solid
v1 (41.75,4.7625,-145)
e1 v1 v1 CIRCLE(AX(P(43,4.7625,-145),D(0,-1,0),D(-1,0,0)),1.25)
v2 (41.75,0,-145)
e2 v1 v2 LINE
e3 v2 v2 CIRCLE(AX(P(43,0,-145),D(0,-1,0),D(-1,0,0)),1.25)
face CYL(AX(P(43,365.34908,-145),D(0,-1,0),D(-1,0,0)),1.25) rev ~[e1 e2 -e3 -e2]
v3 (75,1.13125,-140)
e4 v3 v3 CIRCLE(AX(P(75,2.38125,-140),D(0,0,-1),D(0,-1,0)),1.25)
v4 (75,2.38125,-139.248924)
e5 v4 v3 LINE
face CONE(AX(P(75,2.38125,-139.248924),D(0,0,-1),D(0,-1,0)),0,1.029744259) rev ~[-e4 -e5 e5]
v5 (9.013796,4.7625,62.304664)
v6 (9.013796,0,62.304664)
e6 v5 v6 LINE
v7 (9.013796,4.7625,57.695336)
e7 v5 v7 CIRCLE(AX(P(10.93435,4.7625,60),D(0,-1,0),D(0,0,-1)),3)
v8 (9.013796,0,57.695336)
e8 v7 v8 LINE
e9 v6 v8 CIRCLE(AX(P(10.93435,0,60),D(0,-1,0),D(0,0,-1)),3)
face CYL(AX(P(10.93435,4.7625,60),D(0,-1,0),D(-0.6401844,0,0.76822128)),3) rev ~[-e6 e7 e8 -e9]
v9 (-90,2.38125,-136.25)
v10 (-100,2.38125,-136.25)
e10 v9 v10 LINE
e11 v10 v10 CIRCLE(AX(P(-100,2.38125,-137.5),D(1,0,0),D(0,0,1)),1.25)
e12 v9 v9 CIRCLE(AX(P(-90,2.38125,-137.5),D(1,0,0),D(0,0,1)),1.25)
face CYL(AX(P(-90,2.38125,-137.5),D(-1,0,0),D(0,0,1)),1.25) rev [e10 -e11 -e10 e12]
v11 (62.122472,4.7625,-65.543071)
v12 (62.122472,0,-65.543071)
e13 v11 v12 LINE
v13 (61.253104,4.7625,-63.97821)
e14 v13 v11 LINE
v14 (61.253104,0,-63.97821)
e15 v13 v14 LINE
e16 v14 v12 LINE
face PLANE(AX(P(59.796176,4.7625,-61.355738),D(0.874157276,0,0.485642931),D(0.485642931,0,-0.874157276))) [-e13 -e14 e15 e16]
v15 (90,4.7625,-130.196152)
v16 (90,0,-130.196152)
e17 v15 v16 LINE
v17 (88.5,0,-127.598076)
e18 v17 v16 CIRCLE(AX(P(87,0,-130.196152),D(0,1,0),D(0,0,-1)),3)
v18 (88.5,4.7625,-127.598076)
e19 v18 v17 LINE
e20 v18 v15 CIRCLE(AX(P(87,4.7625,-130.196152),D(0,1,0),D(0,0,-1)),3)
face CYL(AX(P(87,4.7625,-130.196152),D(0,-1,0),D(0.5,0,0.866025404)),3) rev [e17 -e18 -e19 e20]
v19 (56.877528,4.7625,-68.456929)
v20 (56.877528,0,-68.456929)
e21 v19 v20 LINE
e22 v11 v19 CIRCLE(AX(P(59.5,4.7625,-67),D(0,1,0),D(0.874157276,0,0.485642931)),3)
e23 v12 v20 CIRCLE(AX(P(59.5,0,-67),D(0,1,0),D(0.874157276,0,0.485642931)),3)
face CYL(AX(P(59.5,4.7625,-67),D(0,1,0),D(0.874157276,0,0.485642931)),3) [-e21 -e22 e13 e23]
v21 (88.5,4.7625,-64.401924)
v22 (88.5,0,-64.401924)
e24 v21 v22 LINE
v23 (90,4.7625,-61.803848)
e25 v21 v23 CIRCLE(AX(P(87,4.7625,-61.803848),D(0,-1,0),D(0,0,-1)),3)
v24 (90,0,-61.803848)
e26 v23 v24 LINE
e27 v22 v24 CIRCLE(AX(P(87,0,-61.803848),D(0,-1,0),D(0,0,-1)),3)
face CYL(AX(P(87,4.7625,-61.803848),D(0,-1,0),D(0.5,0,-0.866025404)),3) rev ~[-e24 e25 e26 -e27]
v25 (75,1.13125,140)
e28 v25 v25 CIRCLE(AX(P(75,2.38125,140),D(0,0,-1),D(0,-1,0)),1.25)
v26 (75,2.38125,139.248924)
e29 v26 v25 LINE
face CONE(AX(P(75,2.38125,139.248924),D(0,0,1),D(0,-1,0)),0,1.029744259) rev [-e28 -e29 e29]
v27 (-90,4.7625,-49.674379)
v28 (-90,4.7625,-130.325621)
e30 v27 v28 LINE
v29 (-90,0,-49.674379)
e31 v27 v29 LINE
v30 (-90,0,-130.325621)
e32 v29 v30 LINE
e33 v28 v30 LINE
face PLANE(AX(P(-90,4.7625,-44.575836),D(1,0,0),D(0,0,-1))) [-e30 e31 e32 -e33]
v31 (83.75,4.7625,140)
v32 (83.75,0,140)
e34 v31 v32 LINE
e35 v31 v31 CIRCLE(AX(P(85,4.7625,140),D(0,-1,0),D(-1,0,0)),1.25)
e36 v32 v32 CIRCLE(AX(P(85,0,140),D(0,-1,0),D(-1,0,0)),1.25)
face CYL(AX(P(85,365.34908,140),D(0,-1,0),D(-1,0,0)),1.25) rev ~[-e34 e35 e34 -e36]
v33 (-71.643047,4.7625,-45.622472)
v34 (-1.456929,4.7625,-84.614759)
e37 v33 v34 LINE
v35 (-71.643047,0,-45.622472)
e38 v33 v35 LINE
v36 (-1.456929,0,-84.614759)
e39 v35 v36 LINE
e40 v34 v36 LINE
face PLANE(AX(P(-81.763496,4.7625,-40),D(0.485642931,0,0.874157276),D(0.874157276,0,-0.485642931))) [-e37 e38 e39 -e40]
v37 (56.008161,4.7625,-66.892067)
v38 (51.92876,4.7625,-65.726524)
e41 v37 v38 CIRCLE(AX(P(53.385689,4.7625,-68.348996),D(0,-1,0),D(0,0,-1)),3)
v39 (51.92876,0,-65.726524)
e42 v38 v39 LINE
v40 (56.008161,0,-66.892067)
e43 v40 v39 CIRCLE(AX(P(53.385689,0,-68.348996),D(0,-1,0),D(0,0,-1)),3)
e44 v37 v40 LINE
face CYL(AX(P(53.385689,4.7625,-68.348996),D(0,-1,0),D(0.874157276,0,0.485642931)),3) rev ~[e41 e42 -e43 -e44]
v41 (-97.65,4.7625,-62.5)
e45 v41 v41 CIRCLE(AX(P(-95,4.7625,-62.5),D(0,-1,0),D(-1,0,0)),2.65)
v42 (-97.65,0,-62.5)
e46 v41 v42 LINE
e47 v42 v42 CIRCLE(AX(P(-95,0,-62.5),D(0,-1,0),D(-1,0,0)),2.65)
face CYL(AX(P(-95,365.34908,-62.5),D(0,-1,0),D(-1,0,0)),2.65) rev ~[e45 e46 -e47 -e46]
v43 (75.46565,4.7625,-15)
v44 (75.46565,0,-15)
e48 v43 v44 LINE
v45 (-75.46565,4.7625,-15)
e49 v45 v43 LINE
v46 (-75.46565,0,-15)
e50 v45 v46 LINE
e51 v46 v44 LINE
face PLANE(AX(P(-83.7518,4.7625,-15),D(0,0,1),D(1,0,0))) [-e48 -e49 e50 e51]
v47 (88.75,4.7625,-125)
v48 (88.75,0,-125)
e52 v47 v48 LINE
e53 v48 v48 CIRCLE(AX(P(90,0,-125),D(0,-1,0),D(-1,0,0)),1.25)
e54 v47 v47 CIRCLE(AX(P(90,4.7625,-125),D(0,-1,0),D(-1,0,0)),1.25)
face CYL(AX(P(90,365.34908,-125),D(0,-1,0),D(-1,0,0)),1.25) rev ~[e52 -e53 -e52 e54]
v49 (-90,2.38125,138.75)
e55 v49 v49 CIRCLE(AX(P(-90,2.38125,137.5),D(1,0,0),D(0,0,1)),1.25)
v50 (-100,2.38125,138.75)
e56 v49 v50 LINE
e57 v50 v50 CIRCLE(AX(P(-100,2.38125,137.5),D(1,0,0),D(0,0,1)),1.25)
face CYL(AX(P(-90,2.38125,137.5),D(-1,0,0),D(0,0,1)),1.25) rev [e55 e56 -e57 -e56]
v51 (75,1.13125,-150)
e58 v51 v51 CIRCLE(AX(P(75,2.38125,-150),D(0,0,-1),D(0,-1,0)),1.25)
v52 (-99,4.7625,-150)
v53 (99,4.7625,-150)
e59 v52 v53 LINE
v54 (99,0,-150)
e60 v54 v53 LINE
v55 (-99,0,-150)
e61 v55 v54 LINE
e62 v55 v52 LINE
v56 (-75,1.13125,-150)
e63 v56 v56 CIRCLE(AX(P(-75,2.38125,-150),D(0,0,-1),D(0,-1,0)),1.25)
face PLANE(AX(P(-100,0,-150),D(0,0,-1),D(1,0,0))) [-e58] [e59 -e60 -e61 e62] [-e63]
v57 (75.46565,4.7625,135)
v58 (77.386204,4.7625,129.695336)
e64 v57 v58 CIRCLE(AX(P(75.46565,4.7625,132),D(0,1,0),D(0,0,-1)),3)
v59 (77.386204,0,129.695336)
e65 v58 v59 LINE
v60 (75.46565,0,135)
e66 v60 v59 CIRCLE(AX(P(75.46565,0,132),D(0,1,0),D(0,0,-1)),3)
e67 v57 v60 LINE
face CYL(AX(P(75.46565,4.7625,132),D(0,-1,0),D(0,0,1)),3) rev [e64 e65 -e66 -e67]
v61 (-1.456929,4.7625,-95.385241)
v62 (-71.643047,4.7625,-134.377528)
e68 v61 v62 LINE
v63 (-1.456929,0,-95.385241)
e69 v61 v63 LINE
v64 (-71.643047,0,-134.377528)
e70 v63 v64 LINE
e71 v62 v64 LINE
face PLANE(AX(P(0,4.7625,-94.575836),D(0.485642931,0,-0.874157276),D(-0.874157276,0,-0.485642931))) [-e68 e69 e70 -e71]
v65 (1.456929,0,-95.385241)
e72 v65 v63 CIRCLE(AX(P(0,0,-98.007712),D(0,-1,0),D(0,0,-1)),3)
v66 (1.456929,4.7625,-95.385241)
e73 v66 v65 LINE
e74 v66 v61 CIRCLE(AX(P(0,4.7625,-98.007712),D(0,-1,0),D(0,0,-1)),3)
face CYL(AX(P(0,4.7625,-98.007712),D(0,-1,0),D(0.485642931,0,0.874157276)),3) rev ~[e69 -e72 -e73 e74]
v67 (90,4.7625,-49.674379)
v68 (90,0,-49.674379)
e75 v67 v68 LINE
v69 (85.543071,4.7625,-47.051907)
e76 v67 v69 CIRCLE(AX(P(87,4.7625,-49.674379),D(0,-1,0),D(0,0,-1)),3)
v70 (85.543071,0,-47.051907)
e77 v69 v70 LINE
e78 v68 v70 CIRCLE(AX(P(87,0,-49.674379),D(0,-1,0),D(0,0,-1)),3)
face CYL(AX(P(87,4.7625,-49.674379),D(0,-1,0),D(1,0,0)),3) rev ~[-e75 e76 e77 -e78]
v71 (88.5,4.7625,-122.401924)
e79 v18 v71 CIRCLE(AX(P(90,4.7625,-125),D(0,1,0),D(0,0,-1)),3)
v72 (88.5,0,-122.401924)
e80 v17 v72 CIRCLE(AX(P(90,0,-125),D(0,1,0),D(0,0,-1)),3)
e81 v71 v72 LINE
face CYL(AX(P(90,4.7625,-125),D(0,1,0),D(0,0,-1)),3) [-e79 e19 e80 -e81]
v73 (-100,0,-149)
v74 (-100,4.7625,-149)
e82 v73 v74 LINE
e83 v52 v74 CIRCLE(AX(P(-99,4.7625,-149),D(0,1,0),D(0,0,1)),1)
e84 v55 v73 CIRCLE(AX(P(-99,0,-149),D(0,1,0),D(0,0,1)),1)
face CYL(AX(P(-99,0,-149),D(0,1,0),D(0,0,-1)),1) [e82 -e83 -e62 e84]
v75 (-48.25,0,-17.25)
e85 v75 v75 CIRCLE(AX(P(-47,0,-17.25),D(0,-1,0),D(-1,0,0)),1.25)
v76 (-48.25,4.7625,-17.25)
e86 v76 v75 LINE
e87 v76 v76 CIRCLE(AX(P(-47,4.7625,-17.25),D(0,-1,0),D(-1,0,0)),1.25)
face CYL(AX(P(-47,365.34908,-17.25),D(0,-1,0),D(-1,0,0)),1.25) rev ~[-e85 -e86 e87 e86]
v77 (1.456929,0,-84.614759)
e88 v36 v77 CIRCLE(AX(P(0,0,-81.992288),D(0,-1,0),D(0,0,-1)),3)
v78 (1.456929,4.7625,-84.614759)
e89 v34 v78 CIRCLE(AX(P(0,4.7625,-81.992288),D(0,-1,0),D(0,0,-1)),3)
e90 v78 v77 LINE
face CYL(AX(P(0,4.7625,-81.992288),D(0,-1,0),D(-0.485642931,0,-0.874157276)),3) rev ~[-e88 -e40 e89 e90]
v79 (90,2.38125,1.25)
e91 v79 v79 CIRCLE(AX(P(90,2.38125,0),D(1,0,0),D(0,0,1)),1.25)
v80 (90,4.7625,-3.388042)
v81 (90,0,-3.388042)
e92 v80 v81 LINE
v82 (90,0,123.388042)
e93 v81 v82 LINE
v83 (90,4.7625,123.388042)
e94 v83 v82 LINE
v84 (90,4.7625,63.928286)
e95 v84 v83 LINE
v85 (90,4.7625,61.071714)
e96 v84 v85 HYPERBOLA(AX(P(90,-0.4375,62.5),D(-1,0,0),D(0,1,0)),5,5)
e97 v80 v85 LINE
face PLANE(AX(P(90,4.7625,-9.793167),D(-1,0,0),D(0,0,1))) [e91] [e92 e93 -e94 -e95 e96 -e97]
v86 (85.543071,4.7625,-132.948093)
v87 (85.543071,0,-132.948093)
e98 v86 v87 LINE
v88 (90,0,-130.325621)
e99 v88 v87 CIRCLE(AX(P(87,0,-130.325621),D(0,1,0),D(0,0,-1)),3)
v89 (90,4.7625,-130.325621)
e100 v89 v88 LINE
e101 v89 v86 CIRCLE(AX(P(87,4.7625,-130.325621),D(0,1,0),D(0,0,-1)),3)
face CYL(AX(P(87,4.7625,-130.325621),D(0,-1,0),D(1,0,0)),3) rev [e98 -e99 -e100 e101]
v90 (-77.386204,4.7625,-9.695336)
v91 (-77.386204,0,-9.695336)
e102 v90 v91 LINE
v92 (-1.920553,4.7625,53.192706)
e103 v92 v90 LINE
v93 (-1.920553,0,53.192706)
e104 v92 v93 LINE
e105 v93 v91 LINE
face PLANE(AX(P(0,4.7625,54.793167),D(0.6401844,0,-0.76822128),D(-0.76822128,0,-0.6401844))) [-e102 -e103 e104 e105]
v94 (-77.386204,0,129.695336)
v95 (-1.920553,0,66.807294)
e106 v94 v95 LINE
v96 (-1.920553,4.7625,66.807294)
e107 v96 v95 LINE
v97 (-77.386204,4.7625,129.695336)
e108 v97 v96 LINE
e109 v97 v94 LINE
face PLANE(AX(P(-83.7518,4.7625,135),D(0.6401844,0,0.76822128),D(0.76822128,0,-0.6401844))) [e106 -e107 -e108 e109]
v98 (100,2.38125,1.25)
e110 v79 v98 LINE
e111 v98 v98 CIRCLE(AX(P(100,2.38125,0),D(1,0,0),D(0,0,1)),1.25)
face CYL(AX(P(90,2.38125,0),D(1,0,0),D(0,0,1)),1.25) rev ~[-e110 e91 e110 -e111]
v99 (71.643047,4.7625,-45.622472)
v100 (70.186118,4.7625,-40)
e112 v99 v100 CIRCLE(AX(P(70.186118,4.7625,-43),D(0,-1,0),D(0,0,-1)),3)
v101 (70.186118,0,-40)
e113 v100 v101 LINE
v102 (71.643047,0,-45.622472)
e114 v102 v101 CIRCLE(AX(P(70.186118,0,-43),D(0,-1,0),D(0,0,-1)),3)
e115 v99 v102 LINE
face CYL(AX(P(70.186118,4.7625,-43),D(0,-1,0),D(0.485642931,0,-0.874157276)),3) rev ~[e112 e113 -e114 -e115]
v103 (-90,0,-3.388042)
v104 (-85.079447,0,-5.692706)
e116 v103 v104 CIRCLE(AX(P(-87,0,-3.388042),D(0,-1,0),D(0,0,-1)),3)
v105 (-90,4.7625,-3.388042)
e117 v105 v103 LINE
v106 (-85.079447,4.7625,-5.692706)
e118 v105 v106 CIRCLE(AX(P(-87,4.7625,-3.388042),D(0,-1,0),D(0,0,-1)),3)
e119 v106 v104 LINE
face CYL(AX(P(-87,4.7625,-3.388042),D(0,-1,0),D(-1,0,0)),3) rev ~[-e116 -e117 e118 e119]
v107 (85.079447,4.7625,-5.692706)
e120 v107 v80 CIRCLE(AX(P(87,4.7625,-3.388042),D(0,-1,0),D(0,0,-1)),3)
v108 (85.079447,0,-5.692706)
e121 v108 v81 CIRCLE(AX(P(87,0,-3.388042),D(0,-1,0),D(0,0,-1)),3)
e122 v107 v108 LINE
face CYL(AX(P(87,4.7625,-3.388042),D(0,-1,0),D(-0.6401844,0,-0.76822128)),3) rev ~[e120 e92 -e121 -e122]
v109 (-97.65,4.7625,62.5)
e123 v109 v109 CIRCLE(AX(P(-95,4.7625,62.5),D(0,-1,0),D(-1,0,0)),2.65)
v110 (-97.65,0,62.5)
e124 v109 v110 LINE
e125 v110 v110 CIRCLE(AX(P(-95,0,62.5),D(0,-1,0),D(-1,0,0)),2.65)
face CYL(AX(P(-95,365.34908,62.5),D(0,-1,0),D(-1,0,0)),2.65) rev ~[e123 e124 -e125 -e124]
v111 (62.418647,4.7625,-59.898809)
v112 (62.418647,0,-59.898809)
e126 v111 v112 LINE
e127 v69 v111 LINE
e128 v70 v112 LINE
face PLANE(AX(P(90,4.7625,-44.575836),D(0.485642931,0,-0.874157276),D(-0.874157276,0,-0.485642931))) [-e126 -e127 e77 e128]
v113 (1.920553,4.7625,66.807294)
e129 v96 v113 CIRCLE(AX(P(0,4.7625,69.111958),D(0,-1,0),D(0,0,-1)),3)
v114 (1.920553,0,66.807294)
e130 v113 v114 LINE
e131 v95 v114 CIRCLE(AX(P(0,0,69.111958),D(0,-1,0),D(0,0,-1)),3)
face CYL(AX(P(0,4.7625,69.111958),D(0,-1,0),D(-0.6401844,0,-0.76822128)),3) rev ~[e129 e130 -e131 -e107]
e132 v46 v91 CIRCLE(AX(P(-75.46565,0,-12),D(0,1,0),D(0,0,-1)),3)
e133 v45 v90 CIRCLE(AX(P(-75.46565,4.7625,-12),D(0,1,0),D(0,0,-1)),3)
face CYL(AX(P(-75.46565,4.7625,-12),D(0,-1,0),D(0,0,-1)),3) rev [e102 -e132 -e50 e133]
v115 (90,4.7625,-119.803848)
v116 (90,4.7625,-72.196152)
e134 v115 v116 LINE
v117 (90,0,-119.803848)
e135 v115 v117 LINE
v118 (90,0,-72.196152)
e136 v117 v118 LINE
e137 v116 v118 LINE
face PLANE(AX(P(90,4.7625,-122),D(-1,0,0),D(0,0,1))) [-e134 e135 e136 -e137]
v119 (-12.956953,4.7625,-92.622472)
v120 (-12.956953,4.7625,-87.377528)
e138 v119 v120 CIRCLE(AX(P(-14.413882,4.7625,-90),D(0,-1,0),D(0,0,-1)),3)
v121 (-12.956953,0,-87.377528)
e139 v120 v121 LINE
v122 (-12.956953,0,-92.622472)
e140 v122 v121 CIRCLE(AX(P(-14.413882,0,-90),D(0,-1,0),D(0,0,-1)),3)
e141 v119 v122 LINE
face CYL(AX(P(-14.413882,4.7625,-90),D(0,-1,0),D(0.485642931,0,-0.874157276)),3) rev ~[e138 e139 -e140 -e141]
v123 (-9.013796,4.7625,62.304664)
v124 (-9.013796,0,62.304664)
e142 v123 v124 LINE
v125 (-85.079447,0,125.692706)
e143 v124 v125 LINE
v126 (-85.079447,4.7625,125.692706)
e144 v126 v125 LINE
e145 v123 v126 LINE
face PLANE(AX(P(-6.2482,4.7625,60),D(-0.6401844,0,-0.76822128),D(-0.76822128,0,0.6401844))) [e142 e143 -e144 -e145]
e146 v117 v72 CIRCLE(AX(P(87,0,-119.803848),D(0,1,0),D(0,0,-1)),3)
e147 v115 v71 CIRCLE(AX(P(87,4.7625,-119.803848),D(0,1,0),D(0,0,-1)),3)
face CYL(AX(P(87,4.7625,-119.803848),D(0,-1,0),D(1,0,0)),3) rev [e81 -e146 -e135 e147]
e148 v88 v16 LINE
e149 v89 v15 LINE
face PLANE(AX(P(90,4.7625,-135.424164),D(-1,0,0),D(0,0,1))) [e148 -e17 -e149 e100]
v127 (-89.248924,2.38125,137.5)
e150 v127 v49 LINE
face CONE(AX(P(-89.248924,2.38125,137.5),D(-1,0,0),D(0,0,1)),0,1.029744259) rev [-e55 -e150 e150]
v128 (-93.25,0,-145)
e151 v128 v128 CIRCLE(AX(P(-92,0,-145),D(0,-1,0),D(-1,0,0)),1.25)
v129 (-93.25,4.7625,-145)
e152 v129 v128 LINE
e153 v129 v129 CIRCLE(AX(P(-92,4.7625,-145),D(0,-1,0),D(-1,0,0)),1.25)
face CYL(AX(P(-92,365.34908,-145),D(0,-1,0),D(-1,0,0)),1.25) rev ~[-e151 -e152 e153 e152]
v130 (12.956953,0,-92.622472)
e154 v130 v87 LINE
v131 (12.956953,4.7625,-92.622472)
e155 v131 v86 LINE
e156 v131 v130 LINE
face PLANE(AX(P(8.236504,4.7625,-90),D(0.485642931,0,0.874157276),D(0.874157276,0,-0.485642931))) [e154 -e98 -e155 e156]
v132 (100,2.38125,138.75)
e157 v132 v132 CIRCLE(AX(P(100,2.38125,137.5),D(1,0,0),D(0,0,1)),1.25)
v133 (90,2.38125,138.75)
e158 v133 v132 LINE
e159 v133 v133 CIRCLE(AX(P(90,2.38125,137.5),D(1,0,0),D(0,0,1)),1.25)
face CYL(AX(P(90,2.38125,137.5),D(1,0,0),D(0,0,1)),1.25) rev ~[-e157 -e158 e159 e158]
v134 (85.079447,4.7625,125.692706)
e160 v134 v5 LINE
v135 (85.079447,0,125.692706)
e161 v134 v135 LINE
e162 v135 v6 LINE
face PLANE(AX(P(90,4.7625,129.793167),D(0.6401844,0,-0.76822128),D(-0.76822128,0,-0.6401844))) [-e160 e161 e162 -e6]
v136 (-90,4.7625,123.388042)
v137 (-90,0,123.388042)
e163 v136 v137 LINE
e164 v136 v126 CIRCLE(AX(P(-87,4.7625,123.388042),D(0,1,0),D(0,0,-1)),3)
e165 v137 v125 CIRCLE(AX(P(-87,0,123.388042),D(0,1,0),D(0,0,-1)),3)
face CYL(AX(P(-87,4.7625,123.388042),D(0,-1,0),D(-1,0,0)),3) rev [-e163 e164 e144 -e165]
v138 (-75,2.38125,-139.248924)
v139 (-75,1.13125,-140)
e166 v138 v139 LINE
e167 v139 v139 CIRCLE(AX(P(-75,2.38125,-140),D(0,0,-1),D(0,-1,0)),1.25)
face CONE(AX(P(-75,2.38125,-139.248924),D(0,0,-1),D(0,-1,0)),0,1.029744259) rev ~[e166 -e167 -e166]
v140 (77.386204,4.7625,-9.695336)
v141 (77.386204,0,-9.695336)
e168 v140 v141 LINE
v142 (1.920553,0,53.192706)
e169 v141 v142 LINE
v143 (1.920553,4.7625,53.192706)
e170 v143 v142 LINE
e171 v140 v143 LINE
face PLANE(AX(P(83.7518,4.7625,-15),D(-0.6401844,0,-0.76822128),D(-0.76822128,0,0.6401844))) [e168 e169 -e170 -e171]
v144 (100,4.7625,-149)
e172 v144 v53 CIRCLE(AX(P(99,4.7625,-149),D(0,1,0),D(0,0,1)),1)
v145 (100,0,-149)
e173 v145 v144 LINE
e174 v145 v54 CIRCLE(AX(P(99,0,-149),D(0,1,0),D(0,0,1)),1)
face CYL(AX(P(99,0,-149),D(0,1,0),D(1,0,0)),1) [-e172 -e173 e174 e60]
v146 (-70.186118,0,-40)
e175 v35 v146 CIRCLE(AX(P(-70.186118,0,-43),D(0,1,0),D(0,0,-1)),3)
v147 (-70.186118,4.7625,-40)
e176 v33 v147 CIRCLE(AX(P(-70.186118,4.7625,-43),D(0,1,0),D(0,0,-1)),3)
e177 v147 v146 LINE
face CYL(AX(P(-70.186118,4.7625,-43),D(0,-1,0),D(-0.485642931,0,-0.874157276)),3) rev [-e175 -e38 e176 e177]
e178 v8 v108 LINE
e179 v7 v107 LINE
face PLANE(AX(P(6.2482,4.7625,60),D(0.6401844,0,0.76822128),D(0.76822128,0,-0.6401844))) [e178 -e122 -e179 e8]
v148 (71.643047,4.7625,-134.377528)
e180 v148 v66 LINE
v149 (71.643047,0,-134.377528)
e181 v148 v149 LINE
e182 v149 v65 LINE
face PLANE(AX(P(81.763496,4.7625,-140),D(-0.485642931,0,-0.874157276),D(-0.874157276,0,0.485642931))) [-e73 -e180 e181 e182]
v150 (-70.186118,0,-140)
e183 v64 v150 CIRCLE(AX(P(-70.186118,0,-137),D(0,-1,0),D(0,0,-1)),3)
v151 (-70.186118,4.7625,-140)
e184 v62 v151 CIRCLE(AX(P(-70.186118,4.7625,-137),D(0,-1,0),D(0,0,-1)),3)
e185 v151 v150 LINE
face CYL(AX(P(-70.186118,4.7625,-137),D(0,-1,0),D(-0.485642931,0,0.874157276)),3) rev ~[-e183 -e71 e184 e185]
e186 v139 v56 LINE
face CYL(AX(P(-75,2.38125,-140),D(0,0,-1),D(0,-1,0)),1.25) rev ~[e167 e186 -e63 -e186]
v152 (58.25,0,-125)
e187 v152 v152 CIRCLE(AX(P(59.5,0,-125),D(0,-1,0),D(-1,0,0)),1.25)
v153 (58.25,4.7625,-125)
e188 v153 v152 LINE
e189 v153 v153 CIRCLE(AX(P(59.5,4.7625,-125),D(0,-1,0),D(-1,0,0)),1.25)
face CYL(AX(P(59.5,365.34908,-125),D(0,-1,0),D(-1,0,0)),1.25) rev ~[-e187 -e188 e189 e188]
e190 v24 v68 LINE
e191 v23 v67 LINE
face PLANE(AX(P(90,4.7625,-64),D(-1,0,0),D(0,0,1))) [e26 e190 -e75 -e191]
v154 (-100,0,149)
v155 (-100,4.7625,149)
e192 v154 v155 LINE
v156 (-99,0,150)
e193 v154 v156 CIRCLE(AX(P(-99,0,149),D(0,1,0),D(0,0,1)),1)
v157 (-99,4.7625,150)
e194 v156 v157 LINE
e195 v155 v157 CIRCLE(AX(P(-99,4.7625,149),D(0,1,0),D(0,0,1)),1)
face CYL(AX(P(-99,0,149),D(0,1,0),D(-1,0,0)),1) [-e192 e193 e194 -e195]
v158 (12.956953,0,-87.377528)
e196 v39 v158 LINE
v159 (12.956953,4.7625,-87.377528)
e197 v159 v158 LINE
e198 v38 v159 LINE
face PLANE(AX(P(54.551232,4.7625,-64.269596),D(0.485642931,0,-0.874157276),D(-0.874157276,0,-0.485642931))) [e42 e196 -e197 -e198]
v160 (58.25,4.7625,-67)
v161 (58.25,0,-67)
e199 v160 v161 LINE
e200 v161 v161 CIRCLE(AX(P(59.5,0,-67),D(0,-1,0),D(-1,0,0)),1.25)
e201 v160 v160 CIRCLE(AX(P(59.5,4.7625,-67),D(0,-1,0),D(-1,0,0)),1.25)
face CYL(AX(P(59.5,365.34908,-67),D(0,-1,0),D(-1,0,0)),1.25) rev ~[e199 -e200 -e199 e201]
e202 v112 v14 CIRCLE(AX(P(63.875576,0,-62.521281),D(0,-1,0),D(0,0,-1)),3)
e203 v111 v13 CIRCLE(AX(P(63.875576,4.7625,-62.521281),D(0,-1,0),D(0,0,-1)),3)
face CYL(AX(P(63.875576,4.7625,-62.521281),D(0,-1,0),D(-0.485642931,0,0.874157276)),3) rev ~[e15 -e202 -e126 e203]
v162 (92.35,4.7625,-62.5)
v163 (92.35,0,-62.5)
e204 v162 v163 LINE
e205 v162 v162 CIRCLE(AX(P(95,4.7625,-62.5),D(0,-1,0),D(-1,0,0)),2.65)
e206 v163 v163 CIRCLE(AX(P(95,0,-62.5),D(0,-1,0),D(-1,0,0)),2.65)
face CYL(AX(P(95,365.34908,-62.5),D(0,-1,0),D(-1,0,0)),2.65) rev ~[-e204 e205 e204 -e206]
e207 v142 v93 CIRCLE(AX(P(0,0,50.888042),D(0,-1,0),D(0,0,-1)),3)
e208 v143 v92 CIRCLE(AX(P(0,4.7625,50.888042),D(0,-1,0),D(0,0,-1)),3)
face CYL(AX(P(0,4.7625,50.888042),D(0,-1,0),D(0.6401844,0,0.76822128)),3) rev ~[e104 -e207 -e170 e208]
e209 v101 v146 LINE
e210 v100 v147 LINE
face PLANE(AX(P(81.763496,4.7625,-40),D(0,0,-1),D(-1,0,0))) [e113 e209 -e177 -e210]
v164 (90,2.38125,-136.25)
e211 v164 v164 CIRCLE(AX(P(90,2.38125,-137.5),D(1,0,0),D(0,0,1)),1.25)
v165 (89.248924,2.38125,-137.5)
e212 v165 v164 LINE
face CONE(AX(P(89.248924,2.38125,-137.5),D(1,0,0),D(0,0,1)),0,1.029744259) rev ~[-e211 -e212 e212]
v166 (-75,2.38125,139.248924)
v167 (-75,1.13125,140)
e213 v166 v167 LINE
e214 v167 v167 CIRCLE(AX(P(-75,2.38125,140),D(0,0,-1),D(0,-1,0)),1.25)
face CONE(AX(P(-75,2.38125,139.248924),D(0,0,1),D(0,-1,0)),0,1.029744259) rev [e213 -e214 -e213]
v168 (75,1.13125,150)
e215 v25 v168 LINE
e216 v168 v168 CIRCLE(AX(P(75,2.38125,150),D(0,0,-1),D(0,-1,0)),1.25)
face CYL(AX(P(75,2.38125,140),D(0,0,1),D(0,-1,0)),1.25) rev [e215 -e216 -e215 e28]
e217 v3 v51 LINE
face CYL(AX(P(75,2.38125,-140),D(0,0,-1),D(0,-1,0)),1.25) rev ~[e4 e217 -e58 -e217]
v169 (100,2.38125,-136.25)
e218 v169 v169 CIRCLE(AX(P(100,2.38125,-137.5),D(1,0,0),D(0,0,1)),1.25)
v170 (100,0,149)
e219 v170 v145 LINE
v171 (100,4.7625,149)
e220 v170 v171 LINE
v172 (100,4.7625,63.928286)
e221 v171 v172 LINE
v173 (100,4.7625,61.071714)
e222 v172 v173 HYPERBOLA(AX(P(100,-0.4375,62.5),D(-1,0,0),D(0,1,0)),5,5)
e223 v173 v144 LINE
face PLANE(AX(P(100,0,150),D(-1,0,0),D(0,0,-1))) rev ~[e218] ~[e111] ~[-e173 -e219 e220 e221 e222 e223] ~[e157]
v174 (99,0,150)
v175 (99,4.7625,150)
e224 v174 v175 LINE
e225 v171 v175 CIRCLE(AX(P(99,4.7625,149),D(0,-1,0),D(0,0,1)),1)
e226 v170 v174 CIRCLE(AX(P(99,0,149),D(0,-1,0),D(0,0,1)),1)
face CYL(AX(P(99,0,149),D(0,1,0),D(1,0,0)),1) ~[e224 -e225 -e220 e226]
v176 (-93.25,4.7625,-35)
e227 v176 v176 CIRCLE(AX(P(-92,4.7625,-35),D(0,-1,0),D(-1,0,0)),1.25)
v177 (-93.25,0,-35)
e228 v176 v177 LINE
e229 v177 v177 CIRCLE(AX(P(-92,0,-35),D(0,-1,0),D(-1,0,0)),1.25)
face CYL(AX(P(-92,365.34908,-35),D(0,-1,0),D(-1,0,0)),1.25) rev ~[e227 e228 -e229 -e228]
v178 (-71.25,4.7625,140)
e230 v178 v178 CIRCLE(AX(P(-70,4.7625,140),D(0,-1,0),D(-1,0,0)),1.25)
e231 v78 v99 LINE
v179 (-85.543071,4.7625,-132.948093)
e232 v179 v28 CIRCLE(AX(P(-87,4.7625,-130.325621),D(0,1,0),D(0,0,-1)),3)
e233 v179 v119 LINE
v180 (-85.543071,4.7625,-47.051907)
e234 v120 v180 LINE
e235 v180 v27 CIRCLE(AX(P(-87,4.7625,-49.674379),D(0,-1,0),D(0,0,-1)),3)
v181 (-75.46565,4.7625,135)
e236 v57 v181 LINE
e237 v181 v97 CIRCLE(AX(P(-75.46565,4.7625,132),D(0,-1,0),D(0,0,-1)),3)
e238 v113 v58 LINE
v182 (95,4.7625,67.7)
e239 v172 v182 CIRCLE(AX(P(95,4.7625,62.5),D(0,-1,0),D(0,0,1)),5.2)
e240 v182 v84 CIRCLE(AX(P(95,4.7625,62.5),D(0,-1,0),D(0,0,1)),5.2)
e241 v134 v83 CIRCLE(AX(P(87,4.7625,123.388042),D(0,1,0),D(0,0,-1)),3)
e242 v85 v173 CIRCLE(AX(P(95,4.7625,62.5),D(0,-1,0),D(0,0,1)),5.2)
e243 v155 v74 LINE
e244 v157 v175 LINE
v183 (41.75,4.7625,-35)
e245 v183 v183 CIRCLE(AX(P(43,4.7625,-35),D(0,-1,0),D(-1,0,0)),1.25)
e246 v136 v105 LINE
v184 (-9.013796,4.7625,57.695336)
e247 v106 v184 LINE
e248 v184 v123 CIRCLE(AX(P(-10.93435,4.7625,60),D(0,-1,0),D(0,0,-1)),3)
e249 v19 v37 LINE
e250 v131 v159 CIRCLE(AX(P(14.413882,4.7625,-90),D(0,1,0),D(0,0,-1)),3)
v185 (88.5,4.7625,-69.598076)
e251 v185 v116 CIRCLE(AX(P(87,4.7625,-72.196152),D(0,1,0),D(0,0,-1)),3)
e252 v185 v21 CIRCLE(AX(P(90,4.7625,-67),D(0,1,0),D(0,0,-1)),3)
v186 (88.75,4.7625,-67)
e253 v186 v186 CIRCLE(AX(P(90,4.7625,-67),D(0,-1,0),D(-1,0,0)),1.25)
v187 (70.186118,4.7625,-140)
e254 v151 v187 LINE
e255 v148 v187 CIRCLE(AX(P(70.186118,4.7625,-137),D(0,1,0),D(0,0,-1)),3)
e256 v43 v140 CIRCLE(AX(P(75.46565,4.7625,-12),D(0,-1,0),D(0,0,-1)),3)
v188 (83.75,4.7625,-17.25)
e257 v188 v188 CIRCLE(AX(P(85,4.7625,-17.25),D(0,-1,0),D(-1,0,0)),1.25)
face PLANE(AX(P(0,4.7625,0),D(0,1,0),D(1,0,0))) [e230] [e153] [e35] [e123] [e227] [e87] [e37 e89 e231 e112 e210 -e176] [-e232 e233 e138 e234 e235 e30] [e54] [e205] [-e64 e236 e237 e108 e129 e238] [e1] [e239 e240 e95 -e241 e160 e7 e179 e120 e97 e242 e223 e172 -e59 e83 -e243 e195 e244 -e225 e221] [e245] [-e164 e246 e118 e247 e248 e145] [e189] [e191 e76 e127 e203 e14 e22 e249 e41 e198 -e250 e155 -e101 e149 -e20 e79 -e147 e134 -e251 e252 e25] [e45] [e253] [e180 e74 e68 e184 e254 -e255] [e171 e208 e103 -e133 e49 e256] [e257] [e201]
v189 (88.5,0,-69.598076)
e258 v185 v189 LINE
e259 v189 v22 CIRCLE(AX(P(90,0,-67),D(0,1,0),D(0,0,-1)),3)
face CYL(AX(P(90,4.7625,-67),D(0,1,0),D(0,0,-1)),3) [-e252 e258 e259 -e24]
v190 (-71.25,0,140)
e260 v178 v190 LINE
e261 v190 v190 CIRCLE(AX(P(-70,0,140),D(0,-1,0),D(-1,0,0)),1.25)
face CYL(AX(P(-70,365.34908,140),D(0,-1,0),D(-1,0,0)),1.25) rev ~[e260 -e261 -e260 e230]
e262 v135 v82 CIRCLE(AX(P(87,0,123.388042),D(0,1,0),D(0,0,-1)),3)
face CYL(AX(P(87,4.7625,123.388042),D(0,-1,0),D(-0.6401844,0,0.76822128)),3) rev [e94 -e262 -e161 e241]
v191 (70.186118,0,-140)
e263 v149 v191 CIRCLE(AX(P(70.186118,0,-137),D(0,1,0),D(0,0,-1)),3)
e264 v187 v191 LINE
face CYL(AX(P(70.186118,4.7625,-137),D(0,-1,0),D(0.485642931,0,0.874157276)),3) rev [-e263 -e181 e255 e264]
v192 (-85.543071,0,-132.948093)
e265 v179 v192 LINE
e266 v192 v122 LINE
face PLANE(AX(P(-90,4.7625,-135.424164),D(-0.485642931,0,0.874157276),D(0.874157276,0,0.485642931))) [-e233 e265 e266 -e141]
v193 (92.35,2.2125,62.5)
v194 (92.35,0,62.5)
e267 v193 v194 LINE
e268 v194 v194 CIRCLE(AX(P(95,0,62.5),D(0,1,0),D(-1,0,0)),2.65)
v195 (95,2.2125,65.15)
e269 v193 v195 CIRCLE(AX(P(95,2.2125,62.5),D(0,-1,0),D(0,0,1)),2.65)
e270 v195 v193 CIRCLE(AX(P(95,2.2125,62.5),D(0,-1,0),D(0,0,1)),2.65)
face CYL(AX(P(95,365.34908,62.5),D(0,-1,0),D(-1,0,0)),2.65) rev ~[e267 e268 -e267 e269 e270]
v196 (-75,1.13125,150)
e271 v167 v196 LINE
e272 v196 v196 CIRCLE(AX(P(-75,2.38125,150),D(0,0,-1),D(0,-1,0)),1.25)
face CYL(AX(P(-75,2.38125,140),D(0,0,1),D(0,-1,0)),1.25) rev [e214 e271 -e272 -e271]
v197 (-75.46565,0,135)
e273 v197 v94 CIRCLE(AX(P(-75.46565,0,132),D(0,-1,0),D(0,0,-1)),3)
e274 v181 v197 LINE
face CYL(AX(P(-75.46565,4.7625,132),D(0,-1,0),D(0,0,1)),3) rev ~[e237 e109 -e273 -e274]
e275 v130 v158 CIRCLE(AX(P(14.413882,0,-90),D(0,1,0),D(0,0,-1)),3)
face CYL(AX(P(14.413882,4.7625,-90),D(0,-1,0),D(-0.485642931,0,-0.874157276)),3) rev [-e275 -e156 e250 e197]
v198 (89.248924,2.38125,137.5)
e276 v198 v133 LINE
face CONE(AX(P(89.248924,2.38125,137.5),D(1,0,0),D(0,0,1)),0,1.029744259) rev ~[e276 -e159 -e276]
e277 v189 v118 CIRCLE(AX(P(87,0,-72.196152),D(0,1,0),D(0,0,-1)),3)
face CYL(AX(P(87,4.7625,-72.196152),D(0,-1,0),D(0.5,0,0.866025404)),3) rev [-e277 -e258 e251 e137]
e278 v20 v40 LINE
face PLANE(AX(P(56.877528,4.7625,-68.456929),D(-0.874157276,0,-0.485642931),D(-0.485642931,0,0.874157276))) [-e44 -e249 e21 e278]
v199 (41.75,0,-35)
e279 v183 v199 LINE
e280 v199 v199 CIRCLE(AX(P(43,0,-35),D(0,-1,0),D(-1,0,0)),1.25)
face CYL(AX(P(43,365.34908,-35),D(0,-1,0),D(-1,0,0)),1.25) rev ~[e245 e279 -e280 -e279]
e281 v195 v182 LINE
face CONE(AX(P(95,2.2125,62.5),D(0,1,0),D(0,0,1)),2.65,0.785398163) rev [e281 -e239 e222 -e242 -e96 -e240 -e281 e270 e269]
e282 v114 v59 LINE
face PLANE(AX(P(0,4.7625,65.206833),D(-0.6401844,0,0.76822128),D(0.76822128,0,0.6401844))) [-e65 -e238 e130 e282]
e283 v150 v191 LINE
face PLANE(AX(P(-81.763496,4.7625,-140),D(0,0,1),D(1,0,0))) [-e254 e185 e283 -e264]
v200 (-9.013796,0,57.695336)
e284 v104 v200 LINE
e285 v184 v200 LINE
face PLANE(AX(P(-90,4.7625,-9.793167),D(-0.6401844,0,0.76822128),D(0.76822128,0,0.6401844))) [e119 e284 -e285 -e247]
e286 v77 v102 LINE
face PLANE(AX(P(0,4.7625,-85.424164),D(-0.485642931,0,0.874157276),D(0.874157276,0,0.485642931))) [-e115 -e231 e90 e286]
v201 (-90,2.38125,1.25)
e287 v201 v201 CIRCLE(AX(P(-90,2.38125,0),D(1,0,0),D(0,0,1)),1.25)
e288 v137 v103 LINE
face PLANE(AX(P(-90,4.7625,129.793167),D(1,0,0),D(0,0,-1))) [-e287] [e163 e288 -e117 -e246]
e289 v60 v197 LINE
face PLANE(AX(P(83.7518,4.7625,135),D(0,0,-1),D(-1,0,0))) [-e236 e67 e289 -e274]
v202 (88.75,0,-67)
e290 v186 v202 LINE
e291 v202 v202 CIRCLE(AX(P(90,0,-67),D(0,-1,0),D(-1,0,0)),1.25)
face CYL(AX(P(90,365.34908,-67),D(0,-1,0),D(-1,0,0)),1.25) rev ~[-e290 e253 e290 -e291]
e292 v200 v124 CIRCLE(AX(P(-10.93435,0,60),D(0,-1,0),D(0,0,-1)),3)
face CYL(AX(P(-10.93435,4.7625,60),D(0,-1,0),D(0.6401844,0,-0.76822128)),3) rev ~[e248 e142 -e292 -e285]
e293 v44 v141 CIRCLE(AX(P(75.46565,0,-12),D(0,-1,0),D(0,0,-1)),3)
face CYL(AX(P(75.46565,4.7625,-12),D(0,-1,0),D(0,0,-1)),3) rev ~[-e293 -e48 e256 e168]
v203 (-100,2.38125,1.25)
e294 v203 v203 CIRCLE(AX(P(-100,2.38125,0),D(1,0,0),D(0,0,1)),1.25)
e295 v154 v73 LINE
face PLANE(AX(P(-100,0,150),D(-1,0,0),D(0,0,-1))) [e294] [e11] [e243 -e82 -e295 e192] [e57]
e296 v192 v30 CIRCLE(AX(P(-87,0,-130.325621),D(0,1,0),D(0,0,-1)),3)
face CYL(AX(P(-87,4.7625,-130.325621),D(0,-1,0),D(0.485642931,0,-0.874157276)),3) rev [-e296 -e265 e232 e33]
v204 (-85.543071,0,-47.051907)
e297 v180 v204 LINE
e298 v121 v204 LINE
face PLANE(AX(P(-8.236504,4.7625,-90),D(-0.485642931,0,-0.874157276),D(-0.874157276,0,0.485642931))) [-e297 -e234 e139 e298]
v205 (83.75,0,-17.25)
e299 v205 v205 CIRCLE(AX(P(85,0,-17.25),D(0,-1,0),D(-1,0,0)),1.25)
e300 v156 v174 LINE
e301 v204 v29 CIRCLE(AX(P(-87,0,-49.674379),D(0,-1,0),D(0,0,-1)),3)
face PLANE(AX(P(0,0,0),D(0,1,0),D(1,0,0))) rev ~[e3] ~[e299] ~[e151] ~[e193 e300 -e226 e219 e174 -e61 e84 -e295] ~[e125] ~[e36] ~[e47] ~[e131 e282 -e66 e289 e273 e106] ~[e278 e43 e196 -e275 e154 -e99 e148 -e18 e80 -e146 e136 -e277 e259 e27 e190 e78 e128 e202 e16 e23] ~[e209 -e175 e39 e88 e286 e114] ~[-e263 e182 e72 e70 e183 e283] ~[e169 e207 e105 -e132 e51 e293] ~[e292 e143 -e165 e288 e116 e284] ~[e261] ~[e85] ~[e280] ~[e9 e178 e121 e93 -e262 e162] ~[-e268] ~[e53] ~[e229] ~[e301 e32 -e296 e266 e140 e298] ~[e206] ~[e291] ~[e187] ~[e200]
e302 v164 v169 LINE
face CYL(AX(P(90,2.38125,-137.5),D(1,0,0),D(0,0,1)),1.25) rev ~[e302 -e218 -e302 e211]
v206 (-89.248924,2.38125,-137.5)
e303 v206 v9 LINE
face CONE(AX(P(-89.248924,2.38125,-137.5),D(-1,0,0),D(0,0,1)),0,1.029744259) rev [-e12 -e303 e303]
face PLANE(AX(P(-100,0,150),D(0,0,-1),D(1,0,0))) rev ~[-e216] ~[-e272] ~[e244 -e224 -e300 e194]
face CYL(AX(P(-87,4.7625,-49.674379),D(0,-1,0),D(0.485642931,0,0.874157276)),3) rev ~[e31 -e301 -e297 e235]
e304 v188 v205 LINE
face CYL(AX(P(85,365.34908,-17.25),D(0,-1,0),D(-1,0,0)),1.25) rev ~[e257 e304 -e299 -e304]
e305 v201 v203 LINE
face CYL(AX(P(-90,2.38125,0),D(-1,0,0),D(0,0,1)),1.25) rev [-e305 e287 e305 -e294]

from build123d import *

# Parameters (mm, degrees)
SKETCH1_W                      = 200
SKETCH1_H                      = 300
BOSS_EXTRUDE1_DEPTH            = 4.7625
CUT_EXTRUDE1_DEPTH             = 181.340459704
SKETCH15_R                     = 3.5
BOSS_EXTRUDE2_DEPTH            = 4.7625
M3X0_5_TAPPED_HOLE3_D          = 2.5
M5_CLEARANCE_HOLE1_D           = 5.3
FILLET2_R                      = 3
M3X0_5_TAPPED_HOLE4_AT_2_COUNT = 2
M3X0_5_TAPPED_HOLE4_AT_2_PITCH = 150
M3X0_5_TAPPED_HOLE5_AT_2_COUNT = 2
M3X0_5_TAPPED_HOLE5_AT_2_PITCH = 137.5
M3X0_5_TAPPED_HOLE5_AT_3_COUNT = 2
M3X0_5_TAPPED_HOLE5_AT_3_PITCH = 275
FILLET1_R                      = 1


with BuildPart() as part:
    # Sketch1 → Boss-Extrude1 (new body)
    with BuildSketch(Plane(origin=(0, 0, 0), x_dir=(1, 0, 0), z_dir=(0, 1, 0))):
        Rectangle(SKETCH1_W, SKETCH1_H)
    extrude(amount=BOSS_EXTRUDE1_DEPTH)

    # Sketch14 → Cut-Extrude1 (cut, through all)
    with BuildSketch(Plane(origin=(0, 4.7625, 0), x_dir=(1, 0, 0), z_dir=(0, 1, 0))):
        Polygon((-83.751800259, 15), (83.751800259, 15), (0, -54.793166883), align=None)
        Polygon((90, 9.793166883), (90, -129.793166883), (6.248199741, -60), align=None)
        Polygon((83.751800259, -135), (-83.751800259, -135), (0, -65.206833117), align=None)
        Polygon((-90, -129.793166883), (-90, 9.793166883), (-6.248199741, -60), align=None)
        with BuildLine():
            Line((8.236504113, 90), (90, 135.424164382))
            Line((90, 135.424164382), (90, 128))
            ThreePointArc((90, 128), (87, 125), (90, 122))
            Line((90, 122), (90, 70))
            ThreePointArc((90, 70), (87, 67), (90, 64))
            Line((90, 64), (90, 44.575835618))
            Line((90, 44.575835618), (59.796175629, 61.355738047))
            Line((59.796175629, 61.355738047), (62.122471828, 65.543071206))
            ThreePointArc((62.122471828, 65.543071206), (60.956928794, 69.622471828), (56.877528172, 68.456928794))
            Line((56.877528172, 68.456928794), (54.551231972, 64.269595634))
            Line((54.551231972, 64.269595634), (8.236504113, 90))
        make_face()
        Polygon((81.763495887, 140), (0, 94.575835618), (-81.763495887, 140), align=None)
        Polygon((-90, 135.424164382), (-8.236504113, 90), (-90, 44.575835618), align=None)
        Polygon((-81.763495887, 40), (0, 85.424164382), (81.763495887, 40), align=None)
    extrude(amount=-CUT_EXTRUDE1_DEPTH, mode=Mode.SUBTRACT)

    # Sketch15 → Boss-Extrude2 (add)
    with BuildSketch(Plane(origin=(0, 4.7625, 0), x_dir=(1, 0, 0), z_dir=(0, 1, 0))):
        with Locations((85, -140)):
            Circle(SKETCH15_R)
    extrude(amount=-BOSS_EXTRUDE2_DEPTH)

    # M3x0.5 Tapped Hole3 (through all)
    with Locations(Plane(origin=(0, 4.7625, 0), x_dir=(1, 0, 0), z_dir=(0, 1, 0))):
        with Locations((85, 17.25), (-47, 17.25), (85, -140), (-70, -140), (-92, 145), (-92, 35), (43, 35), (43, 145), (59.5, 67), (90, 67), (90, 125), (59.5, 125)):
            Hole(M3X0_5_TAPPED_HOLE3_D / 2)

    # M5 Clearance Hole1 (through all)
    with Locations(Plane(origin=(0, 4.7625, 0), x_dir=(1, 0, 0), z_dir=(0, 1, 0))):
        with Locations((-95, 62.5), (-95, -62.5), (95, -62.5), (95, 62.5)):
            Hole(M5_CLEARANCE_HOLE1_D / 2)

    # Sketch29 → CSK for M5 Flat Head Machine Screw1 (revolve, cut)
    with BuildSketch(Plane(origin=(95, 4.7625, 62.5), x_dir=(0, 0, 1), z_dir=(1, 0, 0))):
        Polygon((0, 0), (0, 4.7625), (2.65, 4.7625), (2.65, 2.55), (5.2, 0), align=None)
    revolve(axis=Axis((95, 11.1125, 62.5), (0, -1, 0)), mode=Mode.SUBTRACT)

    # Fillet2
    fillet2_edges = [part.edges().sort_by_distance(p)[0] for p in [
        (6.248199741, 2.38125, 60),
        (90, 2.38125, -9.793166883),
        (90, 2.38125, 129.793166883),
        (54.551231972, 2.38125, -64.269595634),
        (8.236504113, 2.38125, -90),
        (90, 2.38125, -135.424164382),
        (90, 2.38125, -128),
        (90, 2.38125, -122),
        (90, 2.38125, -70),
        (90, 2.38125, -64),
        (90, 2.38125, -44.575835618),
        (59.796175629, 2.38125, -61.355738047),
        (-6.248199741, 2.38125, 60),
        (-90, 2.38125, 129.793166883),
        (-90, 2.38125, -9.793166883),
        (0, 2.38125, 54.793166883),
        (-83.751800259, 2.38125, -15),
        (83.751800259, 2.38125, -15),
        (0, 2.38125, 65.206833117),
        (83.751800259, 2.38125, 135),
        (-83.751800259, 2.38125, 135),
        (81.763495887, 2.38125, -40),
        (-81.763495887, 2.38125, -40),
        (0, 2.38125, -85.424164382),
        (-90, 2.38125, -44.575835618),
        (-90, 2.38125, -135.424164382),
        (-8.236504113, 2.38125, -90),
        (-81.763495887, 2.38125, -140),
        (81.763495887, 2.38125, -140),
        (0, 2.38125, -94.575835618),
    ]]
    fillet(fillet2_edges, radius=FILLET2_R)

    # Sketch22 → M3x0.5 Tapped Hole4 (revolve, cut)
    with BuildSketch(Plane(origin=(-75, 2.38125, 150), x_dir=(0, -1, 0), z_dir=(1, 0, 0))):
        Polygon((0, 0), (0, 10.751075774), (1.25, 10), (1.25, 0), align=None)
    m3x0_5_tapped_hole4 = revolve(axis=Axis((-75, 2.38125, 156.35), (0, 0, -1)), mode=Mode.SUBTRACT)

    # M3x0.5 Tapped Hole4 at 2: M3x0.5 Tapped Hole4 ×2
    with Locations(*[(i * M3X0_5_TAPPED_HOLE4_AT_2_PITCH, 0, 0) for i in range(1, M3X0_5_TAPPED_HOLE4_AT_2_COUNT)]):
        add(m3x0_5_tapped_hole4, mode=Mode.SUBTRACT)

    # Mirror1: M3x0.5 Tapped Hole4 across plane
    add(m3x0_5_tapped_hole4.mirror(Plane.XY), mode=Mode.SUBTRACT)

    # Mirror1 copy 1 sketch → Mirror1 copy 1 (revolve, cut)
    with BuildSketch(Plane(origin=(75, 2.38125, -150), x_dir=(0, -1, 0), z_dir=(1, 0, 0))):
        Polygon((0, 0), (0, -10.751075774), (1.25, -10), (1.25, 0), align=None)
    revolve(axis=Axis((75, 2.38125, -156.35), (0, 0, -1)), mode=Mode.SUBTRACT)

    # Sketch25 → M3x0.5 Tapped Hole5 (revolve, cut)
    with BuildSketch(Plane(origin=(-100, 2.38125, -137.5), x_dir=(0, 0, 1), z_dir=(0, 1, 0))):
        Polygon((0, 0), (0, 10.751075774), (1.25, 10), (1.25, 0), align=None)
    m3x0_5_tapped_hole5 = revolve(axis=Axis((-106.35, 2.38125, -137.5), (1, 0, 0)), mode=Mode.SUBTRACT)

    # M3x0.5 Tapped Hole5 at 2: M3x0.5 Tapped Hole5 ×2
    with Locations(*[(0, 0, i * M3X0_5_TAPPED_HOLE5_AT_2_PITCH) for i in range(1, M3X0_5_TAPPED_HOLE5_AT_2_COUNT)]):
        add(m3x0_5_tapped_hole5, mode=Mode.SUBTRACT)

    # M3x0.5 Tapped Hole5 at 3: M3x0.5 Tapped Hole5 ×2
    with Locations(*[(0, 0, i * M3X0_5_TAPPED_HOLE5_AT_3_PITCH) for i in range(1, M3X0_5_TAPPED_HOLE5_AT_3_COUNT)]):
        add(m3x0_5_tapped_hole5, mode=Mode.SUBTRACT)

    # Mirror2: M3x0.5 Tapped Hole5 across plane
    add(m3x0_5_tapped_hole5.mirror(Plane(origin=(0, 0, 0), x_dir=(0, 0, 1), z_dir=(1, 0, 0))), mode=Mode.SUBTRACT)

    # Mirror2 copy 1 sketch → Mirror2 copy 1 (revolve, cut)
    with BuildSketch(Plane(origin=(100, 2.38125, 0), x_dir=(0, 0, 1), z_dir=(0, 1, 0))):
        Polygon((0, 0), (0, -10.751075774), (1.25, -10), (1.25, 0), align=None)
    revolve(axis=Axis((106.35, 2.38125, 0), (1, 0, 0)), mode=Mode.SUBTRACT)

    # Mirror2 copy 2 sketch → Mirror2 copy 2 (revolve, cut)
    with BuildSketch(Plane(origin=(100, 2.38125, 137.5), x_dir=(0, 0, 1), z_dir=(0, 1, 0))):
        Polygon((0, 0), (0, -10.751075774), (1.25, -10), (1.25, 0), align=None)
    revolve(axis=Axis((106.35, 2.38125, 137.5), (1, 0, 0)), mode=Mode.SUBTRACT)

    # Fillet1
    fillet1_edges = [part.edges().sort_by_distance(p)[0] for p in [
        (100, 2.38125, 150),
        (-100, 2.38125, 150),
        (-100, 2.38125, -150),
        (100, 2.38125, -150),
    ]]
    fillet(fillet1_edges, radius=FILLET1_R)


solid = part.part
